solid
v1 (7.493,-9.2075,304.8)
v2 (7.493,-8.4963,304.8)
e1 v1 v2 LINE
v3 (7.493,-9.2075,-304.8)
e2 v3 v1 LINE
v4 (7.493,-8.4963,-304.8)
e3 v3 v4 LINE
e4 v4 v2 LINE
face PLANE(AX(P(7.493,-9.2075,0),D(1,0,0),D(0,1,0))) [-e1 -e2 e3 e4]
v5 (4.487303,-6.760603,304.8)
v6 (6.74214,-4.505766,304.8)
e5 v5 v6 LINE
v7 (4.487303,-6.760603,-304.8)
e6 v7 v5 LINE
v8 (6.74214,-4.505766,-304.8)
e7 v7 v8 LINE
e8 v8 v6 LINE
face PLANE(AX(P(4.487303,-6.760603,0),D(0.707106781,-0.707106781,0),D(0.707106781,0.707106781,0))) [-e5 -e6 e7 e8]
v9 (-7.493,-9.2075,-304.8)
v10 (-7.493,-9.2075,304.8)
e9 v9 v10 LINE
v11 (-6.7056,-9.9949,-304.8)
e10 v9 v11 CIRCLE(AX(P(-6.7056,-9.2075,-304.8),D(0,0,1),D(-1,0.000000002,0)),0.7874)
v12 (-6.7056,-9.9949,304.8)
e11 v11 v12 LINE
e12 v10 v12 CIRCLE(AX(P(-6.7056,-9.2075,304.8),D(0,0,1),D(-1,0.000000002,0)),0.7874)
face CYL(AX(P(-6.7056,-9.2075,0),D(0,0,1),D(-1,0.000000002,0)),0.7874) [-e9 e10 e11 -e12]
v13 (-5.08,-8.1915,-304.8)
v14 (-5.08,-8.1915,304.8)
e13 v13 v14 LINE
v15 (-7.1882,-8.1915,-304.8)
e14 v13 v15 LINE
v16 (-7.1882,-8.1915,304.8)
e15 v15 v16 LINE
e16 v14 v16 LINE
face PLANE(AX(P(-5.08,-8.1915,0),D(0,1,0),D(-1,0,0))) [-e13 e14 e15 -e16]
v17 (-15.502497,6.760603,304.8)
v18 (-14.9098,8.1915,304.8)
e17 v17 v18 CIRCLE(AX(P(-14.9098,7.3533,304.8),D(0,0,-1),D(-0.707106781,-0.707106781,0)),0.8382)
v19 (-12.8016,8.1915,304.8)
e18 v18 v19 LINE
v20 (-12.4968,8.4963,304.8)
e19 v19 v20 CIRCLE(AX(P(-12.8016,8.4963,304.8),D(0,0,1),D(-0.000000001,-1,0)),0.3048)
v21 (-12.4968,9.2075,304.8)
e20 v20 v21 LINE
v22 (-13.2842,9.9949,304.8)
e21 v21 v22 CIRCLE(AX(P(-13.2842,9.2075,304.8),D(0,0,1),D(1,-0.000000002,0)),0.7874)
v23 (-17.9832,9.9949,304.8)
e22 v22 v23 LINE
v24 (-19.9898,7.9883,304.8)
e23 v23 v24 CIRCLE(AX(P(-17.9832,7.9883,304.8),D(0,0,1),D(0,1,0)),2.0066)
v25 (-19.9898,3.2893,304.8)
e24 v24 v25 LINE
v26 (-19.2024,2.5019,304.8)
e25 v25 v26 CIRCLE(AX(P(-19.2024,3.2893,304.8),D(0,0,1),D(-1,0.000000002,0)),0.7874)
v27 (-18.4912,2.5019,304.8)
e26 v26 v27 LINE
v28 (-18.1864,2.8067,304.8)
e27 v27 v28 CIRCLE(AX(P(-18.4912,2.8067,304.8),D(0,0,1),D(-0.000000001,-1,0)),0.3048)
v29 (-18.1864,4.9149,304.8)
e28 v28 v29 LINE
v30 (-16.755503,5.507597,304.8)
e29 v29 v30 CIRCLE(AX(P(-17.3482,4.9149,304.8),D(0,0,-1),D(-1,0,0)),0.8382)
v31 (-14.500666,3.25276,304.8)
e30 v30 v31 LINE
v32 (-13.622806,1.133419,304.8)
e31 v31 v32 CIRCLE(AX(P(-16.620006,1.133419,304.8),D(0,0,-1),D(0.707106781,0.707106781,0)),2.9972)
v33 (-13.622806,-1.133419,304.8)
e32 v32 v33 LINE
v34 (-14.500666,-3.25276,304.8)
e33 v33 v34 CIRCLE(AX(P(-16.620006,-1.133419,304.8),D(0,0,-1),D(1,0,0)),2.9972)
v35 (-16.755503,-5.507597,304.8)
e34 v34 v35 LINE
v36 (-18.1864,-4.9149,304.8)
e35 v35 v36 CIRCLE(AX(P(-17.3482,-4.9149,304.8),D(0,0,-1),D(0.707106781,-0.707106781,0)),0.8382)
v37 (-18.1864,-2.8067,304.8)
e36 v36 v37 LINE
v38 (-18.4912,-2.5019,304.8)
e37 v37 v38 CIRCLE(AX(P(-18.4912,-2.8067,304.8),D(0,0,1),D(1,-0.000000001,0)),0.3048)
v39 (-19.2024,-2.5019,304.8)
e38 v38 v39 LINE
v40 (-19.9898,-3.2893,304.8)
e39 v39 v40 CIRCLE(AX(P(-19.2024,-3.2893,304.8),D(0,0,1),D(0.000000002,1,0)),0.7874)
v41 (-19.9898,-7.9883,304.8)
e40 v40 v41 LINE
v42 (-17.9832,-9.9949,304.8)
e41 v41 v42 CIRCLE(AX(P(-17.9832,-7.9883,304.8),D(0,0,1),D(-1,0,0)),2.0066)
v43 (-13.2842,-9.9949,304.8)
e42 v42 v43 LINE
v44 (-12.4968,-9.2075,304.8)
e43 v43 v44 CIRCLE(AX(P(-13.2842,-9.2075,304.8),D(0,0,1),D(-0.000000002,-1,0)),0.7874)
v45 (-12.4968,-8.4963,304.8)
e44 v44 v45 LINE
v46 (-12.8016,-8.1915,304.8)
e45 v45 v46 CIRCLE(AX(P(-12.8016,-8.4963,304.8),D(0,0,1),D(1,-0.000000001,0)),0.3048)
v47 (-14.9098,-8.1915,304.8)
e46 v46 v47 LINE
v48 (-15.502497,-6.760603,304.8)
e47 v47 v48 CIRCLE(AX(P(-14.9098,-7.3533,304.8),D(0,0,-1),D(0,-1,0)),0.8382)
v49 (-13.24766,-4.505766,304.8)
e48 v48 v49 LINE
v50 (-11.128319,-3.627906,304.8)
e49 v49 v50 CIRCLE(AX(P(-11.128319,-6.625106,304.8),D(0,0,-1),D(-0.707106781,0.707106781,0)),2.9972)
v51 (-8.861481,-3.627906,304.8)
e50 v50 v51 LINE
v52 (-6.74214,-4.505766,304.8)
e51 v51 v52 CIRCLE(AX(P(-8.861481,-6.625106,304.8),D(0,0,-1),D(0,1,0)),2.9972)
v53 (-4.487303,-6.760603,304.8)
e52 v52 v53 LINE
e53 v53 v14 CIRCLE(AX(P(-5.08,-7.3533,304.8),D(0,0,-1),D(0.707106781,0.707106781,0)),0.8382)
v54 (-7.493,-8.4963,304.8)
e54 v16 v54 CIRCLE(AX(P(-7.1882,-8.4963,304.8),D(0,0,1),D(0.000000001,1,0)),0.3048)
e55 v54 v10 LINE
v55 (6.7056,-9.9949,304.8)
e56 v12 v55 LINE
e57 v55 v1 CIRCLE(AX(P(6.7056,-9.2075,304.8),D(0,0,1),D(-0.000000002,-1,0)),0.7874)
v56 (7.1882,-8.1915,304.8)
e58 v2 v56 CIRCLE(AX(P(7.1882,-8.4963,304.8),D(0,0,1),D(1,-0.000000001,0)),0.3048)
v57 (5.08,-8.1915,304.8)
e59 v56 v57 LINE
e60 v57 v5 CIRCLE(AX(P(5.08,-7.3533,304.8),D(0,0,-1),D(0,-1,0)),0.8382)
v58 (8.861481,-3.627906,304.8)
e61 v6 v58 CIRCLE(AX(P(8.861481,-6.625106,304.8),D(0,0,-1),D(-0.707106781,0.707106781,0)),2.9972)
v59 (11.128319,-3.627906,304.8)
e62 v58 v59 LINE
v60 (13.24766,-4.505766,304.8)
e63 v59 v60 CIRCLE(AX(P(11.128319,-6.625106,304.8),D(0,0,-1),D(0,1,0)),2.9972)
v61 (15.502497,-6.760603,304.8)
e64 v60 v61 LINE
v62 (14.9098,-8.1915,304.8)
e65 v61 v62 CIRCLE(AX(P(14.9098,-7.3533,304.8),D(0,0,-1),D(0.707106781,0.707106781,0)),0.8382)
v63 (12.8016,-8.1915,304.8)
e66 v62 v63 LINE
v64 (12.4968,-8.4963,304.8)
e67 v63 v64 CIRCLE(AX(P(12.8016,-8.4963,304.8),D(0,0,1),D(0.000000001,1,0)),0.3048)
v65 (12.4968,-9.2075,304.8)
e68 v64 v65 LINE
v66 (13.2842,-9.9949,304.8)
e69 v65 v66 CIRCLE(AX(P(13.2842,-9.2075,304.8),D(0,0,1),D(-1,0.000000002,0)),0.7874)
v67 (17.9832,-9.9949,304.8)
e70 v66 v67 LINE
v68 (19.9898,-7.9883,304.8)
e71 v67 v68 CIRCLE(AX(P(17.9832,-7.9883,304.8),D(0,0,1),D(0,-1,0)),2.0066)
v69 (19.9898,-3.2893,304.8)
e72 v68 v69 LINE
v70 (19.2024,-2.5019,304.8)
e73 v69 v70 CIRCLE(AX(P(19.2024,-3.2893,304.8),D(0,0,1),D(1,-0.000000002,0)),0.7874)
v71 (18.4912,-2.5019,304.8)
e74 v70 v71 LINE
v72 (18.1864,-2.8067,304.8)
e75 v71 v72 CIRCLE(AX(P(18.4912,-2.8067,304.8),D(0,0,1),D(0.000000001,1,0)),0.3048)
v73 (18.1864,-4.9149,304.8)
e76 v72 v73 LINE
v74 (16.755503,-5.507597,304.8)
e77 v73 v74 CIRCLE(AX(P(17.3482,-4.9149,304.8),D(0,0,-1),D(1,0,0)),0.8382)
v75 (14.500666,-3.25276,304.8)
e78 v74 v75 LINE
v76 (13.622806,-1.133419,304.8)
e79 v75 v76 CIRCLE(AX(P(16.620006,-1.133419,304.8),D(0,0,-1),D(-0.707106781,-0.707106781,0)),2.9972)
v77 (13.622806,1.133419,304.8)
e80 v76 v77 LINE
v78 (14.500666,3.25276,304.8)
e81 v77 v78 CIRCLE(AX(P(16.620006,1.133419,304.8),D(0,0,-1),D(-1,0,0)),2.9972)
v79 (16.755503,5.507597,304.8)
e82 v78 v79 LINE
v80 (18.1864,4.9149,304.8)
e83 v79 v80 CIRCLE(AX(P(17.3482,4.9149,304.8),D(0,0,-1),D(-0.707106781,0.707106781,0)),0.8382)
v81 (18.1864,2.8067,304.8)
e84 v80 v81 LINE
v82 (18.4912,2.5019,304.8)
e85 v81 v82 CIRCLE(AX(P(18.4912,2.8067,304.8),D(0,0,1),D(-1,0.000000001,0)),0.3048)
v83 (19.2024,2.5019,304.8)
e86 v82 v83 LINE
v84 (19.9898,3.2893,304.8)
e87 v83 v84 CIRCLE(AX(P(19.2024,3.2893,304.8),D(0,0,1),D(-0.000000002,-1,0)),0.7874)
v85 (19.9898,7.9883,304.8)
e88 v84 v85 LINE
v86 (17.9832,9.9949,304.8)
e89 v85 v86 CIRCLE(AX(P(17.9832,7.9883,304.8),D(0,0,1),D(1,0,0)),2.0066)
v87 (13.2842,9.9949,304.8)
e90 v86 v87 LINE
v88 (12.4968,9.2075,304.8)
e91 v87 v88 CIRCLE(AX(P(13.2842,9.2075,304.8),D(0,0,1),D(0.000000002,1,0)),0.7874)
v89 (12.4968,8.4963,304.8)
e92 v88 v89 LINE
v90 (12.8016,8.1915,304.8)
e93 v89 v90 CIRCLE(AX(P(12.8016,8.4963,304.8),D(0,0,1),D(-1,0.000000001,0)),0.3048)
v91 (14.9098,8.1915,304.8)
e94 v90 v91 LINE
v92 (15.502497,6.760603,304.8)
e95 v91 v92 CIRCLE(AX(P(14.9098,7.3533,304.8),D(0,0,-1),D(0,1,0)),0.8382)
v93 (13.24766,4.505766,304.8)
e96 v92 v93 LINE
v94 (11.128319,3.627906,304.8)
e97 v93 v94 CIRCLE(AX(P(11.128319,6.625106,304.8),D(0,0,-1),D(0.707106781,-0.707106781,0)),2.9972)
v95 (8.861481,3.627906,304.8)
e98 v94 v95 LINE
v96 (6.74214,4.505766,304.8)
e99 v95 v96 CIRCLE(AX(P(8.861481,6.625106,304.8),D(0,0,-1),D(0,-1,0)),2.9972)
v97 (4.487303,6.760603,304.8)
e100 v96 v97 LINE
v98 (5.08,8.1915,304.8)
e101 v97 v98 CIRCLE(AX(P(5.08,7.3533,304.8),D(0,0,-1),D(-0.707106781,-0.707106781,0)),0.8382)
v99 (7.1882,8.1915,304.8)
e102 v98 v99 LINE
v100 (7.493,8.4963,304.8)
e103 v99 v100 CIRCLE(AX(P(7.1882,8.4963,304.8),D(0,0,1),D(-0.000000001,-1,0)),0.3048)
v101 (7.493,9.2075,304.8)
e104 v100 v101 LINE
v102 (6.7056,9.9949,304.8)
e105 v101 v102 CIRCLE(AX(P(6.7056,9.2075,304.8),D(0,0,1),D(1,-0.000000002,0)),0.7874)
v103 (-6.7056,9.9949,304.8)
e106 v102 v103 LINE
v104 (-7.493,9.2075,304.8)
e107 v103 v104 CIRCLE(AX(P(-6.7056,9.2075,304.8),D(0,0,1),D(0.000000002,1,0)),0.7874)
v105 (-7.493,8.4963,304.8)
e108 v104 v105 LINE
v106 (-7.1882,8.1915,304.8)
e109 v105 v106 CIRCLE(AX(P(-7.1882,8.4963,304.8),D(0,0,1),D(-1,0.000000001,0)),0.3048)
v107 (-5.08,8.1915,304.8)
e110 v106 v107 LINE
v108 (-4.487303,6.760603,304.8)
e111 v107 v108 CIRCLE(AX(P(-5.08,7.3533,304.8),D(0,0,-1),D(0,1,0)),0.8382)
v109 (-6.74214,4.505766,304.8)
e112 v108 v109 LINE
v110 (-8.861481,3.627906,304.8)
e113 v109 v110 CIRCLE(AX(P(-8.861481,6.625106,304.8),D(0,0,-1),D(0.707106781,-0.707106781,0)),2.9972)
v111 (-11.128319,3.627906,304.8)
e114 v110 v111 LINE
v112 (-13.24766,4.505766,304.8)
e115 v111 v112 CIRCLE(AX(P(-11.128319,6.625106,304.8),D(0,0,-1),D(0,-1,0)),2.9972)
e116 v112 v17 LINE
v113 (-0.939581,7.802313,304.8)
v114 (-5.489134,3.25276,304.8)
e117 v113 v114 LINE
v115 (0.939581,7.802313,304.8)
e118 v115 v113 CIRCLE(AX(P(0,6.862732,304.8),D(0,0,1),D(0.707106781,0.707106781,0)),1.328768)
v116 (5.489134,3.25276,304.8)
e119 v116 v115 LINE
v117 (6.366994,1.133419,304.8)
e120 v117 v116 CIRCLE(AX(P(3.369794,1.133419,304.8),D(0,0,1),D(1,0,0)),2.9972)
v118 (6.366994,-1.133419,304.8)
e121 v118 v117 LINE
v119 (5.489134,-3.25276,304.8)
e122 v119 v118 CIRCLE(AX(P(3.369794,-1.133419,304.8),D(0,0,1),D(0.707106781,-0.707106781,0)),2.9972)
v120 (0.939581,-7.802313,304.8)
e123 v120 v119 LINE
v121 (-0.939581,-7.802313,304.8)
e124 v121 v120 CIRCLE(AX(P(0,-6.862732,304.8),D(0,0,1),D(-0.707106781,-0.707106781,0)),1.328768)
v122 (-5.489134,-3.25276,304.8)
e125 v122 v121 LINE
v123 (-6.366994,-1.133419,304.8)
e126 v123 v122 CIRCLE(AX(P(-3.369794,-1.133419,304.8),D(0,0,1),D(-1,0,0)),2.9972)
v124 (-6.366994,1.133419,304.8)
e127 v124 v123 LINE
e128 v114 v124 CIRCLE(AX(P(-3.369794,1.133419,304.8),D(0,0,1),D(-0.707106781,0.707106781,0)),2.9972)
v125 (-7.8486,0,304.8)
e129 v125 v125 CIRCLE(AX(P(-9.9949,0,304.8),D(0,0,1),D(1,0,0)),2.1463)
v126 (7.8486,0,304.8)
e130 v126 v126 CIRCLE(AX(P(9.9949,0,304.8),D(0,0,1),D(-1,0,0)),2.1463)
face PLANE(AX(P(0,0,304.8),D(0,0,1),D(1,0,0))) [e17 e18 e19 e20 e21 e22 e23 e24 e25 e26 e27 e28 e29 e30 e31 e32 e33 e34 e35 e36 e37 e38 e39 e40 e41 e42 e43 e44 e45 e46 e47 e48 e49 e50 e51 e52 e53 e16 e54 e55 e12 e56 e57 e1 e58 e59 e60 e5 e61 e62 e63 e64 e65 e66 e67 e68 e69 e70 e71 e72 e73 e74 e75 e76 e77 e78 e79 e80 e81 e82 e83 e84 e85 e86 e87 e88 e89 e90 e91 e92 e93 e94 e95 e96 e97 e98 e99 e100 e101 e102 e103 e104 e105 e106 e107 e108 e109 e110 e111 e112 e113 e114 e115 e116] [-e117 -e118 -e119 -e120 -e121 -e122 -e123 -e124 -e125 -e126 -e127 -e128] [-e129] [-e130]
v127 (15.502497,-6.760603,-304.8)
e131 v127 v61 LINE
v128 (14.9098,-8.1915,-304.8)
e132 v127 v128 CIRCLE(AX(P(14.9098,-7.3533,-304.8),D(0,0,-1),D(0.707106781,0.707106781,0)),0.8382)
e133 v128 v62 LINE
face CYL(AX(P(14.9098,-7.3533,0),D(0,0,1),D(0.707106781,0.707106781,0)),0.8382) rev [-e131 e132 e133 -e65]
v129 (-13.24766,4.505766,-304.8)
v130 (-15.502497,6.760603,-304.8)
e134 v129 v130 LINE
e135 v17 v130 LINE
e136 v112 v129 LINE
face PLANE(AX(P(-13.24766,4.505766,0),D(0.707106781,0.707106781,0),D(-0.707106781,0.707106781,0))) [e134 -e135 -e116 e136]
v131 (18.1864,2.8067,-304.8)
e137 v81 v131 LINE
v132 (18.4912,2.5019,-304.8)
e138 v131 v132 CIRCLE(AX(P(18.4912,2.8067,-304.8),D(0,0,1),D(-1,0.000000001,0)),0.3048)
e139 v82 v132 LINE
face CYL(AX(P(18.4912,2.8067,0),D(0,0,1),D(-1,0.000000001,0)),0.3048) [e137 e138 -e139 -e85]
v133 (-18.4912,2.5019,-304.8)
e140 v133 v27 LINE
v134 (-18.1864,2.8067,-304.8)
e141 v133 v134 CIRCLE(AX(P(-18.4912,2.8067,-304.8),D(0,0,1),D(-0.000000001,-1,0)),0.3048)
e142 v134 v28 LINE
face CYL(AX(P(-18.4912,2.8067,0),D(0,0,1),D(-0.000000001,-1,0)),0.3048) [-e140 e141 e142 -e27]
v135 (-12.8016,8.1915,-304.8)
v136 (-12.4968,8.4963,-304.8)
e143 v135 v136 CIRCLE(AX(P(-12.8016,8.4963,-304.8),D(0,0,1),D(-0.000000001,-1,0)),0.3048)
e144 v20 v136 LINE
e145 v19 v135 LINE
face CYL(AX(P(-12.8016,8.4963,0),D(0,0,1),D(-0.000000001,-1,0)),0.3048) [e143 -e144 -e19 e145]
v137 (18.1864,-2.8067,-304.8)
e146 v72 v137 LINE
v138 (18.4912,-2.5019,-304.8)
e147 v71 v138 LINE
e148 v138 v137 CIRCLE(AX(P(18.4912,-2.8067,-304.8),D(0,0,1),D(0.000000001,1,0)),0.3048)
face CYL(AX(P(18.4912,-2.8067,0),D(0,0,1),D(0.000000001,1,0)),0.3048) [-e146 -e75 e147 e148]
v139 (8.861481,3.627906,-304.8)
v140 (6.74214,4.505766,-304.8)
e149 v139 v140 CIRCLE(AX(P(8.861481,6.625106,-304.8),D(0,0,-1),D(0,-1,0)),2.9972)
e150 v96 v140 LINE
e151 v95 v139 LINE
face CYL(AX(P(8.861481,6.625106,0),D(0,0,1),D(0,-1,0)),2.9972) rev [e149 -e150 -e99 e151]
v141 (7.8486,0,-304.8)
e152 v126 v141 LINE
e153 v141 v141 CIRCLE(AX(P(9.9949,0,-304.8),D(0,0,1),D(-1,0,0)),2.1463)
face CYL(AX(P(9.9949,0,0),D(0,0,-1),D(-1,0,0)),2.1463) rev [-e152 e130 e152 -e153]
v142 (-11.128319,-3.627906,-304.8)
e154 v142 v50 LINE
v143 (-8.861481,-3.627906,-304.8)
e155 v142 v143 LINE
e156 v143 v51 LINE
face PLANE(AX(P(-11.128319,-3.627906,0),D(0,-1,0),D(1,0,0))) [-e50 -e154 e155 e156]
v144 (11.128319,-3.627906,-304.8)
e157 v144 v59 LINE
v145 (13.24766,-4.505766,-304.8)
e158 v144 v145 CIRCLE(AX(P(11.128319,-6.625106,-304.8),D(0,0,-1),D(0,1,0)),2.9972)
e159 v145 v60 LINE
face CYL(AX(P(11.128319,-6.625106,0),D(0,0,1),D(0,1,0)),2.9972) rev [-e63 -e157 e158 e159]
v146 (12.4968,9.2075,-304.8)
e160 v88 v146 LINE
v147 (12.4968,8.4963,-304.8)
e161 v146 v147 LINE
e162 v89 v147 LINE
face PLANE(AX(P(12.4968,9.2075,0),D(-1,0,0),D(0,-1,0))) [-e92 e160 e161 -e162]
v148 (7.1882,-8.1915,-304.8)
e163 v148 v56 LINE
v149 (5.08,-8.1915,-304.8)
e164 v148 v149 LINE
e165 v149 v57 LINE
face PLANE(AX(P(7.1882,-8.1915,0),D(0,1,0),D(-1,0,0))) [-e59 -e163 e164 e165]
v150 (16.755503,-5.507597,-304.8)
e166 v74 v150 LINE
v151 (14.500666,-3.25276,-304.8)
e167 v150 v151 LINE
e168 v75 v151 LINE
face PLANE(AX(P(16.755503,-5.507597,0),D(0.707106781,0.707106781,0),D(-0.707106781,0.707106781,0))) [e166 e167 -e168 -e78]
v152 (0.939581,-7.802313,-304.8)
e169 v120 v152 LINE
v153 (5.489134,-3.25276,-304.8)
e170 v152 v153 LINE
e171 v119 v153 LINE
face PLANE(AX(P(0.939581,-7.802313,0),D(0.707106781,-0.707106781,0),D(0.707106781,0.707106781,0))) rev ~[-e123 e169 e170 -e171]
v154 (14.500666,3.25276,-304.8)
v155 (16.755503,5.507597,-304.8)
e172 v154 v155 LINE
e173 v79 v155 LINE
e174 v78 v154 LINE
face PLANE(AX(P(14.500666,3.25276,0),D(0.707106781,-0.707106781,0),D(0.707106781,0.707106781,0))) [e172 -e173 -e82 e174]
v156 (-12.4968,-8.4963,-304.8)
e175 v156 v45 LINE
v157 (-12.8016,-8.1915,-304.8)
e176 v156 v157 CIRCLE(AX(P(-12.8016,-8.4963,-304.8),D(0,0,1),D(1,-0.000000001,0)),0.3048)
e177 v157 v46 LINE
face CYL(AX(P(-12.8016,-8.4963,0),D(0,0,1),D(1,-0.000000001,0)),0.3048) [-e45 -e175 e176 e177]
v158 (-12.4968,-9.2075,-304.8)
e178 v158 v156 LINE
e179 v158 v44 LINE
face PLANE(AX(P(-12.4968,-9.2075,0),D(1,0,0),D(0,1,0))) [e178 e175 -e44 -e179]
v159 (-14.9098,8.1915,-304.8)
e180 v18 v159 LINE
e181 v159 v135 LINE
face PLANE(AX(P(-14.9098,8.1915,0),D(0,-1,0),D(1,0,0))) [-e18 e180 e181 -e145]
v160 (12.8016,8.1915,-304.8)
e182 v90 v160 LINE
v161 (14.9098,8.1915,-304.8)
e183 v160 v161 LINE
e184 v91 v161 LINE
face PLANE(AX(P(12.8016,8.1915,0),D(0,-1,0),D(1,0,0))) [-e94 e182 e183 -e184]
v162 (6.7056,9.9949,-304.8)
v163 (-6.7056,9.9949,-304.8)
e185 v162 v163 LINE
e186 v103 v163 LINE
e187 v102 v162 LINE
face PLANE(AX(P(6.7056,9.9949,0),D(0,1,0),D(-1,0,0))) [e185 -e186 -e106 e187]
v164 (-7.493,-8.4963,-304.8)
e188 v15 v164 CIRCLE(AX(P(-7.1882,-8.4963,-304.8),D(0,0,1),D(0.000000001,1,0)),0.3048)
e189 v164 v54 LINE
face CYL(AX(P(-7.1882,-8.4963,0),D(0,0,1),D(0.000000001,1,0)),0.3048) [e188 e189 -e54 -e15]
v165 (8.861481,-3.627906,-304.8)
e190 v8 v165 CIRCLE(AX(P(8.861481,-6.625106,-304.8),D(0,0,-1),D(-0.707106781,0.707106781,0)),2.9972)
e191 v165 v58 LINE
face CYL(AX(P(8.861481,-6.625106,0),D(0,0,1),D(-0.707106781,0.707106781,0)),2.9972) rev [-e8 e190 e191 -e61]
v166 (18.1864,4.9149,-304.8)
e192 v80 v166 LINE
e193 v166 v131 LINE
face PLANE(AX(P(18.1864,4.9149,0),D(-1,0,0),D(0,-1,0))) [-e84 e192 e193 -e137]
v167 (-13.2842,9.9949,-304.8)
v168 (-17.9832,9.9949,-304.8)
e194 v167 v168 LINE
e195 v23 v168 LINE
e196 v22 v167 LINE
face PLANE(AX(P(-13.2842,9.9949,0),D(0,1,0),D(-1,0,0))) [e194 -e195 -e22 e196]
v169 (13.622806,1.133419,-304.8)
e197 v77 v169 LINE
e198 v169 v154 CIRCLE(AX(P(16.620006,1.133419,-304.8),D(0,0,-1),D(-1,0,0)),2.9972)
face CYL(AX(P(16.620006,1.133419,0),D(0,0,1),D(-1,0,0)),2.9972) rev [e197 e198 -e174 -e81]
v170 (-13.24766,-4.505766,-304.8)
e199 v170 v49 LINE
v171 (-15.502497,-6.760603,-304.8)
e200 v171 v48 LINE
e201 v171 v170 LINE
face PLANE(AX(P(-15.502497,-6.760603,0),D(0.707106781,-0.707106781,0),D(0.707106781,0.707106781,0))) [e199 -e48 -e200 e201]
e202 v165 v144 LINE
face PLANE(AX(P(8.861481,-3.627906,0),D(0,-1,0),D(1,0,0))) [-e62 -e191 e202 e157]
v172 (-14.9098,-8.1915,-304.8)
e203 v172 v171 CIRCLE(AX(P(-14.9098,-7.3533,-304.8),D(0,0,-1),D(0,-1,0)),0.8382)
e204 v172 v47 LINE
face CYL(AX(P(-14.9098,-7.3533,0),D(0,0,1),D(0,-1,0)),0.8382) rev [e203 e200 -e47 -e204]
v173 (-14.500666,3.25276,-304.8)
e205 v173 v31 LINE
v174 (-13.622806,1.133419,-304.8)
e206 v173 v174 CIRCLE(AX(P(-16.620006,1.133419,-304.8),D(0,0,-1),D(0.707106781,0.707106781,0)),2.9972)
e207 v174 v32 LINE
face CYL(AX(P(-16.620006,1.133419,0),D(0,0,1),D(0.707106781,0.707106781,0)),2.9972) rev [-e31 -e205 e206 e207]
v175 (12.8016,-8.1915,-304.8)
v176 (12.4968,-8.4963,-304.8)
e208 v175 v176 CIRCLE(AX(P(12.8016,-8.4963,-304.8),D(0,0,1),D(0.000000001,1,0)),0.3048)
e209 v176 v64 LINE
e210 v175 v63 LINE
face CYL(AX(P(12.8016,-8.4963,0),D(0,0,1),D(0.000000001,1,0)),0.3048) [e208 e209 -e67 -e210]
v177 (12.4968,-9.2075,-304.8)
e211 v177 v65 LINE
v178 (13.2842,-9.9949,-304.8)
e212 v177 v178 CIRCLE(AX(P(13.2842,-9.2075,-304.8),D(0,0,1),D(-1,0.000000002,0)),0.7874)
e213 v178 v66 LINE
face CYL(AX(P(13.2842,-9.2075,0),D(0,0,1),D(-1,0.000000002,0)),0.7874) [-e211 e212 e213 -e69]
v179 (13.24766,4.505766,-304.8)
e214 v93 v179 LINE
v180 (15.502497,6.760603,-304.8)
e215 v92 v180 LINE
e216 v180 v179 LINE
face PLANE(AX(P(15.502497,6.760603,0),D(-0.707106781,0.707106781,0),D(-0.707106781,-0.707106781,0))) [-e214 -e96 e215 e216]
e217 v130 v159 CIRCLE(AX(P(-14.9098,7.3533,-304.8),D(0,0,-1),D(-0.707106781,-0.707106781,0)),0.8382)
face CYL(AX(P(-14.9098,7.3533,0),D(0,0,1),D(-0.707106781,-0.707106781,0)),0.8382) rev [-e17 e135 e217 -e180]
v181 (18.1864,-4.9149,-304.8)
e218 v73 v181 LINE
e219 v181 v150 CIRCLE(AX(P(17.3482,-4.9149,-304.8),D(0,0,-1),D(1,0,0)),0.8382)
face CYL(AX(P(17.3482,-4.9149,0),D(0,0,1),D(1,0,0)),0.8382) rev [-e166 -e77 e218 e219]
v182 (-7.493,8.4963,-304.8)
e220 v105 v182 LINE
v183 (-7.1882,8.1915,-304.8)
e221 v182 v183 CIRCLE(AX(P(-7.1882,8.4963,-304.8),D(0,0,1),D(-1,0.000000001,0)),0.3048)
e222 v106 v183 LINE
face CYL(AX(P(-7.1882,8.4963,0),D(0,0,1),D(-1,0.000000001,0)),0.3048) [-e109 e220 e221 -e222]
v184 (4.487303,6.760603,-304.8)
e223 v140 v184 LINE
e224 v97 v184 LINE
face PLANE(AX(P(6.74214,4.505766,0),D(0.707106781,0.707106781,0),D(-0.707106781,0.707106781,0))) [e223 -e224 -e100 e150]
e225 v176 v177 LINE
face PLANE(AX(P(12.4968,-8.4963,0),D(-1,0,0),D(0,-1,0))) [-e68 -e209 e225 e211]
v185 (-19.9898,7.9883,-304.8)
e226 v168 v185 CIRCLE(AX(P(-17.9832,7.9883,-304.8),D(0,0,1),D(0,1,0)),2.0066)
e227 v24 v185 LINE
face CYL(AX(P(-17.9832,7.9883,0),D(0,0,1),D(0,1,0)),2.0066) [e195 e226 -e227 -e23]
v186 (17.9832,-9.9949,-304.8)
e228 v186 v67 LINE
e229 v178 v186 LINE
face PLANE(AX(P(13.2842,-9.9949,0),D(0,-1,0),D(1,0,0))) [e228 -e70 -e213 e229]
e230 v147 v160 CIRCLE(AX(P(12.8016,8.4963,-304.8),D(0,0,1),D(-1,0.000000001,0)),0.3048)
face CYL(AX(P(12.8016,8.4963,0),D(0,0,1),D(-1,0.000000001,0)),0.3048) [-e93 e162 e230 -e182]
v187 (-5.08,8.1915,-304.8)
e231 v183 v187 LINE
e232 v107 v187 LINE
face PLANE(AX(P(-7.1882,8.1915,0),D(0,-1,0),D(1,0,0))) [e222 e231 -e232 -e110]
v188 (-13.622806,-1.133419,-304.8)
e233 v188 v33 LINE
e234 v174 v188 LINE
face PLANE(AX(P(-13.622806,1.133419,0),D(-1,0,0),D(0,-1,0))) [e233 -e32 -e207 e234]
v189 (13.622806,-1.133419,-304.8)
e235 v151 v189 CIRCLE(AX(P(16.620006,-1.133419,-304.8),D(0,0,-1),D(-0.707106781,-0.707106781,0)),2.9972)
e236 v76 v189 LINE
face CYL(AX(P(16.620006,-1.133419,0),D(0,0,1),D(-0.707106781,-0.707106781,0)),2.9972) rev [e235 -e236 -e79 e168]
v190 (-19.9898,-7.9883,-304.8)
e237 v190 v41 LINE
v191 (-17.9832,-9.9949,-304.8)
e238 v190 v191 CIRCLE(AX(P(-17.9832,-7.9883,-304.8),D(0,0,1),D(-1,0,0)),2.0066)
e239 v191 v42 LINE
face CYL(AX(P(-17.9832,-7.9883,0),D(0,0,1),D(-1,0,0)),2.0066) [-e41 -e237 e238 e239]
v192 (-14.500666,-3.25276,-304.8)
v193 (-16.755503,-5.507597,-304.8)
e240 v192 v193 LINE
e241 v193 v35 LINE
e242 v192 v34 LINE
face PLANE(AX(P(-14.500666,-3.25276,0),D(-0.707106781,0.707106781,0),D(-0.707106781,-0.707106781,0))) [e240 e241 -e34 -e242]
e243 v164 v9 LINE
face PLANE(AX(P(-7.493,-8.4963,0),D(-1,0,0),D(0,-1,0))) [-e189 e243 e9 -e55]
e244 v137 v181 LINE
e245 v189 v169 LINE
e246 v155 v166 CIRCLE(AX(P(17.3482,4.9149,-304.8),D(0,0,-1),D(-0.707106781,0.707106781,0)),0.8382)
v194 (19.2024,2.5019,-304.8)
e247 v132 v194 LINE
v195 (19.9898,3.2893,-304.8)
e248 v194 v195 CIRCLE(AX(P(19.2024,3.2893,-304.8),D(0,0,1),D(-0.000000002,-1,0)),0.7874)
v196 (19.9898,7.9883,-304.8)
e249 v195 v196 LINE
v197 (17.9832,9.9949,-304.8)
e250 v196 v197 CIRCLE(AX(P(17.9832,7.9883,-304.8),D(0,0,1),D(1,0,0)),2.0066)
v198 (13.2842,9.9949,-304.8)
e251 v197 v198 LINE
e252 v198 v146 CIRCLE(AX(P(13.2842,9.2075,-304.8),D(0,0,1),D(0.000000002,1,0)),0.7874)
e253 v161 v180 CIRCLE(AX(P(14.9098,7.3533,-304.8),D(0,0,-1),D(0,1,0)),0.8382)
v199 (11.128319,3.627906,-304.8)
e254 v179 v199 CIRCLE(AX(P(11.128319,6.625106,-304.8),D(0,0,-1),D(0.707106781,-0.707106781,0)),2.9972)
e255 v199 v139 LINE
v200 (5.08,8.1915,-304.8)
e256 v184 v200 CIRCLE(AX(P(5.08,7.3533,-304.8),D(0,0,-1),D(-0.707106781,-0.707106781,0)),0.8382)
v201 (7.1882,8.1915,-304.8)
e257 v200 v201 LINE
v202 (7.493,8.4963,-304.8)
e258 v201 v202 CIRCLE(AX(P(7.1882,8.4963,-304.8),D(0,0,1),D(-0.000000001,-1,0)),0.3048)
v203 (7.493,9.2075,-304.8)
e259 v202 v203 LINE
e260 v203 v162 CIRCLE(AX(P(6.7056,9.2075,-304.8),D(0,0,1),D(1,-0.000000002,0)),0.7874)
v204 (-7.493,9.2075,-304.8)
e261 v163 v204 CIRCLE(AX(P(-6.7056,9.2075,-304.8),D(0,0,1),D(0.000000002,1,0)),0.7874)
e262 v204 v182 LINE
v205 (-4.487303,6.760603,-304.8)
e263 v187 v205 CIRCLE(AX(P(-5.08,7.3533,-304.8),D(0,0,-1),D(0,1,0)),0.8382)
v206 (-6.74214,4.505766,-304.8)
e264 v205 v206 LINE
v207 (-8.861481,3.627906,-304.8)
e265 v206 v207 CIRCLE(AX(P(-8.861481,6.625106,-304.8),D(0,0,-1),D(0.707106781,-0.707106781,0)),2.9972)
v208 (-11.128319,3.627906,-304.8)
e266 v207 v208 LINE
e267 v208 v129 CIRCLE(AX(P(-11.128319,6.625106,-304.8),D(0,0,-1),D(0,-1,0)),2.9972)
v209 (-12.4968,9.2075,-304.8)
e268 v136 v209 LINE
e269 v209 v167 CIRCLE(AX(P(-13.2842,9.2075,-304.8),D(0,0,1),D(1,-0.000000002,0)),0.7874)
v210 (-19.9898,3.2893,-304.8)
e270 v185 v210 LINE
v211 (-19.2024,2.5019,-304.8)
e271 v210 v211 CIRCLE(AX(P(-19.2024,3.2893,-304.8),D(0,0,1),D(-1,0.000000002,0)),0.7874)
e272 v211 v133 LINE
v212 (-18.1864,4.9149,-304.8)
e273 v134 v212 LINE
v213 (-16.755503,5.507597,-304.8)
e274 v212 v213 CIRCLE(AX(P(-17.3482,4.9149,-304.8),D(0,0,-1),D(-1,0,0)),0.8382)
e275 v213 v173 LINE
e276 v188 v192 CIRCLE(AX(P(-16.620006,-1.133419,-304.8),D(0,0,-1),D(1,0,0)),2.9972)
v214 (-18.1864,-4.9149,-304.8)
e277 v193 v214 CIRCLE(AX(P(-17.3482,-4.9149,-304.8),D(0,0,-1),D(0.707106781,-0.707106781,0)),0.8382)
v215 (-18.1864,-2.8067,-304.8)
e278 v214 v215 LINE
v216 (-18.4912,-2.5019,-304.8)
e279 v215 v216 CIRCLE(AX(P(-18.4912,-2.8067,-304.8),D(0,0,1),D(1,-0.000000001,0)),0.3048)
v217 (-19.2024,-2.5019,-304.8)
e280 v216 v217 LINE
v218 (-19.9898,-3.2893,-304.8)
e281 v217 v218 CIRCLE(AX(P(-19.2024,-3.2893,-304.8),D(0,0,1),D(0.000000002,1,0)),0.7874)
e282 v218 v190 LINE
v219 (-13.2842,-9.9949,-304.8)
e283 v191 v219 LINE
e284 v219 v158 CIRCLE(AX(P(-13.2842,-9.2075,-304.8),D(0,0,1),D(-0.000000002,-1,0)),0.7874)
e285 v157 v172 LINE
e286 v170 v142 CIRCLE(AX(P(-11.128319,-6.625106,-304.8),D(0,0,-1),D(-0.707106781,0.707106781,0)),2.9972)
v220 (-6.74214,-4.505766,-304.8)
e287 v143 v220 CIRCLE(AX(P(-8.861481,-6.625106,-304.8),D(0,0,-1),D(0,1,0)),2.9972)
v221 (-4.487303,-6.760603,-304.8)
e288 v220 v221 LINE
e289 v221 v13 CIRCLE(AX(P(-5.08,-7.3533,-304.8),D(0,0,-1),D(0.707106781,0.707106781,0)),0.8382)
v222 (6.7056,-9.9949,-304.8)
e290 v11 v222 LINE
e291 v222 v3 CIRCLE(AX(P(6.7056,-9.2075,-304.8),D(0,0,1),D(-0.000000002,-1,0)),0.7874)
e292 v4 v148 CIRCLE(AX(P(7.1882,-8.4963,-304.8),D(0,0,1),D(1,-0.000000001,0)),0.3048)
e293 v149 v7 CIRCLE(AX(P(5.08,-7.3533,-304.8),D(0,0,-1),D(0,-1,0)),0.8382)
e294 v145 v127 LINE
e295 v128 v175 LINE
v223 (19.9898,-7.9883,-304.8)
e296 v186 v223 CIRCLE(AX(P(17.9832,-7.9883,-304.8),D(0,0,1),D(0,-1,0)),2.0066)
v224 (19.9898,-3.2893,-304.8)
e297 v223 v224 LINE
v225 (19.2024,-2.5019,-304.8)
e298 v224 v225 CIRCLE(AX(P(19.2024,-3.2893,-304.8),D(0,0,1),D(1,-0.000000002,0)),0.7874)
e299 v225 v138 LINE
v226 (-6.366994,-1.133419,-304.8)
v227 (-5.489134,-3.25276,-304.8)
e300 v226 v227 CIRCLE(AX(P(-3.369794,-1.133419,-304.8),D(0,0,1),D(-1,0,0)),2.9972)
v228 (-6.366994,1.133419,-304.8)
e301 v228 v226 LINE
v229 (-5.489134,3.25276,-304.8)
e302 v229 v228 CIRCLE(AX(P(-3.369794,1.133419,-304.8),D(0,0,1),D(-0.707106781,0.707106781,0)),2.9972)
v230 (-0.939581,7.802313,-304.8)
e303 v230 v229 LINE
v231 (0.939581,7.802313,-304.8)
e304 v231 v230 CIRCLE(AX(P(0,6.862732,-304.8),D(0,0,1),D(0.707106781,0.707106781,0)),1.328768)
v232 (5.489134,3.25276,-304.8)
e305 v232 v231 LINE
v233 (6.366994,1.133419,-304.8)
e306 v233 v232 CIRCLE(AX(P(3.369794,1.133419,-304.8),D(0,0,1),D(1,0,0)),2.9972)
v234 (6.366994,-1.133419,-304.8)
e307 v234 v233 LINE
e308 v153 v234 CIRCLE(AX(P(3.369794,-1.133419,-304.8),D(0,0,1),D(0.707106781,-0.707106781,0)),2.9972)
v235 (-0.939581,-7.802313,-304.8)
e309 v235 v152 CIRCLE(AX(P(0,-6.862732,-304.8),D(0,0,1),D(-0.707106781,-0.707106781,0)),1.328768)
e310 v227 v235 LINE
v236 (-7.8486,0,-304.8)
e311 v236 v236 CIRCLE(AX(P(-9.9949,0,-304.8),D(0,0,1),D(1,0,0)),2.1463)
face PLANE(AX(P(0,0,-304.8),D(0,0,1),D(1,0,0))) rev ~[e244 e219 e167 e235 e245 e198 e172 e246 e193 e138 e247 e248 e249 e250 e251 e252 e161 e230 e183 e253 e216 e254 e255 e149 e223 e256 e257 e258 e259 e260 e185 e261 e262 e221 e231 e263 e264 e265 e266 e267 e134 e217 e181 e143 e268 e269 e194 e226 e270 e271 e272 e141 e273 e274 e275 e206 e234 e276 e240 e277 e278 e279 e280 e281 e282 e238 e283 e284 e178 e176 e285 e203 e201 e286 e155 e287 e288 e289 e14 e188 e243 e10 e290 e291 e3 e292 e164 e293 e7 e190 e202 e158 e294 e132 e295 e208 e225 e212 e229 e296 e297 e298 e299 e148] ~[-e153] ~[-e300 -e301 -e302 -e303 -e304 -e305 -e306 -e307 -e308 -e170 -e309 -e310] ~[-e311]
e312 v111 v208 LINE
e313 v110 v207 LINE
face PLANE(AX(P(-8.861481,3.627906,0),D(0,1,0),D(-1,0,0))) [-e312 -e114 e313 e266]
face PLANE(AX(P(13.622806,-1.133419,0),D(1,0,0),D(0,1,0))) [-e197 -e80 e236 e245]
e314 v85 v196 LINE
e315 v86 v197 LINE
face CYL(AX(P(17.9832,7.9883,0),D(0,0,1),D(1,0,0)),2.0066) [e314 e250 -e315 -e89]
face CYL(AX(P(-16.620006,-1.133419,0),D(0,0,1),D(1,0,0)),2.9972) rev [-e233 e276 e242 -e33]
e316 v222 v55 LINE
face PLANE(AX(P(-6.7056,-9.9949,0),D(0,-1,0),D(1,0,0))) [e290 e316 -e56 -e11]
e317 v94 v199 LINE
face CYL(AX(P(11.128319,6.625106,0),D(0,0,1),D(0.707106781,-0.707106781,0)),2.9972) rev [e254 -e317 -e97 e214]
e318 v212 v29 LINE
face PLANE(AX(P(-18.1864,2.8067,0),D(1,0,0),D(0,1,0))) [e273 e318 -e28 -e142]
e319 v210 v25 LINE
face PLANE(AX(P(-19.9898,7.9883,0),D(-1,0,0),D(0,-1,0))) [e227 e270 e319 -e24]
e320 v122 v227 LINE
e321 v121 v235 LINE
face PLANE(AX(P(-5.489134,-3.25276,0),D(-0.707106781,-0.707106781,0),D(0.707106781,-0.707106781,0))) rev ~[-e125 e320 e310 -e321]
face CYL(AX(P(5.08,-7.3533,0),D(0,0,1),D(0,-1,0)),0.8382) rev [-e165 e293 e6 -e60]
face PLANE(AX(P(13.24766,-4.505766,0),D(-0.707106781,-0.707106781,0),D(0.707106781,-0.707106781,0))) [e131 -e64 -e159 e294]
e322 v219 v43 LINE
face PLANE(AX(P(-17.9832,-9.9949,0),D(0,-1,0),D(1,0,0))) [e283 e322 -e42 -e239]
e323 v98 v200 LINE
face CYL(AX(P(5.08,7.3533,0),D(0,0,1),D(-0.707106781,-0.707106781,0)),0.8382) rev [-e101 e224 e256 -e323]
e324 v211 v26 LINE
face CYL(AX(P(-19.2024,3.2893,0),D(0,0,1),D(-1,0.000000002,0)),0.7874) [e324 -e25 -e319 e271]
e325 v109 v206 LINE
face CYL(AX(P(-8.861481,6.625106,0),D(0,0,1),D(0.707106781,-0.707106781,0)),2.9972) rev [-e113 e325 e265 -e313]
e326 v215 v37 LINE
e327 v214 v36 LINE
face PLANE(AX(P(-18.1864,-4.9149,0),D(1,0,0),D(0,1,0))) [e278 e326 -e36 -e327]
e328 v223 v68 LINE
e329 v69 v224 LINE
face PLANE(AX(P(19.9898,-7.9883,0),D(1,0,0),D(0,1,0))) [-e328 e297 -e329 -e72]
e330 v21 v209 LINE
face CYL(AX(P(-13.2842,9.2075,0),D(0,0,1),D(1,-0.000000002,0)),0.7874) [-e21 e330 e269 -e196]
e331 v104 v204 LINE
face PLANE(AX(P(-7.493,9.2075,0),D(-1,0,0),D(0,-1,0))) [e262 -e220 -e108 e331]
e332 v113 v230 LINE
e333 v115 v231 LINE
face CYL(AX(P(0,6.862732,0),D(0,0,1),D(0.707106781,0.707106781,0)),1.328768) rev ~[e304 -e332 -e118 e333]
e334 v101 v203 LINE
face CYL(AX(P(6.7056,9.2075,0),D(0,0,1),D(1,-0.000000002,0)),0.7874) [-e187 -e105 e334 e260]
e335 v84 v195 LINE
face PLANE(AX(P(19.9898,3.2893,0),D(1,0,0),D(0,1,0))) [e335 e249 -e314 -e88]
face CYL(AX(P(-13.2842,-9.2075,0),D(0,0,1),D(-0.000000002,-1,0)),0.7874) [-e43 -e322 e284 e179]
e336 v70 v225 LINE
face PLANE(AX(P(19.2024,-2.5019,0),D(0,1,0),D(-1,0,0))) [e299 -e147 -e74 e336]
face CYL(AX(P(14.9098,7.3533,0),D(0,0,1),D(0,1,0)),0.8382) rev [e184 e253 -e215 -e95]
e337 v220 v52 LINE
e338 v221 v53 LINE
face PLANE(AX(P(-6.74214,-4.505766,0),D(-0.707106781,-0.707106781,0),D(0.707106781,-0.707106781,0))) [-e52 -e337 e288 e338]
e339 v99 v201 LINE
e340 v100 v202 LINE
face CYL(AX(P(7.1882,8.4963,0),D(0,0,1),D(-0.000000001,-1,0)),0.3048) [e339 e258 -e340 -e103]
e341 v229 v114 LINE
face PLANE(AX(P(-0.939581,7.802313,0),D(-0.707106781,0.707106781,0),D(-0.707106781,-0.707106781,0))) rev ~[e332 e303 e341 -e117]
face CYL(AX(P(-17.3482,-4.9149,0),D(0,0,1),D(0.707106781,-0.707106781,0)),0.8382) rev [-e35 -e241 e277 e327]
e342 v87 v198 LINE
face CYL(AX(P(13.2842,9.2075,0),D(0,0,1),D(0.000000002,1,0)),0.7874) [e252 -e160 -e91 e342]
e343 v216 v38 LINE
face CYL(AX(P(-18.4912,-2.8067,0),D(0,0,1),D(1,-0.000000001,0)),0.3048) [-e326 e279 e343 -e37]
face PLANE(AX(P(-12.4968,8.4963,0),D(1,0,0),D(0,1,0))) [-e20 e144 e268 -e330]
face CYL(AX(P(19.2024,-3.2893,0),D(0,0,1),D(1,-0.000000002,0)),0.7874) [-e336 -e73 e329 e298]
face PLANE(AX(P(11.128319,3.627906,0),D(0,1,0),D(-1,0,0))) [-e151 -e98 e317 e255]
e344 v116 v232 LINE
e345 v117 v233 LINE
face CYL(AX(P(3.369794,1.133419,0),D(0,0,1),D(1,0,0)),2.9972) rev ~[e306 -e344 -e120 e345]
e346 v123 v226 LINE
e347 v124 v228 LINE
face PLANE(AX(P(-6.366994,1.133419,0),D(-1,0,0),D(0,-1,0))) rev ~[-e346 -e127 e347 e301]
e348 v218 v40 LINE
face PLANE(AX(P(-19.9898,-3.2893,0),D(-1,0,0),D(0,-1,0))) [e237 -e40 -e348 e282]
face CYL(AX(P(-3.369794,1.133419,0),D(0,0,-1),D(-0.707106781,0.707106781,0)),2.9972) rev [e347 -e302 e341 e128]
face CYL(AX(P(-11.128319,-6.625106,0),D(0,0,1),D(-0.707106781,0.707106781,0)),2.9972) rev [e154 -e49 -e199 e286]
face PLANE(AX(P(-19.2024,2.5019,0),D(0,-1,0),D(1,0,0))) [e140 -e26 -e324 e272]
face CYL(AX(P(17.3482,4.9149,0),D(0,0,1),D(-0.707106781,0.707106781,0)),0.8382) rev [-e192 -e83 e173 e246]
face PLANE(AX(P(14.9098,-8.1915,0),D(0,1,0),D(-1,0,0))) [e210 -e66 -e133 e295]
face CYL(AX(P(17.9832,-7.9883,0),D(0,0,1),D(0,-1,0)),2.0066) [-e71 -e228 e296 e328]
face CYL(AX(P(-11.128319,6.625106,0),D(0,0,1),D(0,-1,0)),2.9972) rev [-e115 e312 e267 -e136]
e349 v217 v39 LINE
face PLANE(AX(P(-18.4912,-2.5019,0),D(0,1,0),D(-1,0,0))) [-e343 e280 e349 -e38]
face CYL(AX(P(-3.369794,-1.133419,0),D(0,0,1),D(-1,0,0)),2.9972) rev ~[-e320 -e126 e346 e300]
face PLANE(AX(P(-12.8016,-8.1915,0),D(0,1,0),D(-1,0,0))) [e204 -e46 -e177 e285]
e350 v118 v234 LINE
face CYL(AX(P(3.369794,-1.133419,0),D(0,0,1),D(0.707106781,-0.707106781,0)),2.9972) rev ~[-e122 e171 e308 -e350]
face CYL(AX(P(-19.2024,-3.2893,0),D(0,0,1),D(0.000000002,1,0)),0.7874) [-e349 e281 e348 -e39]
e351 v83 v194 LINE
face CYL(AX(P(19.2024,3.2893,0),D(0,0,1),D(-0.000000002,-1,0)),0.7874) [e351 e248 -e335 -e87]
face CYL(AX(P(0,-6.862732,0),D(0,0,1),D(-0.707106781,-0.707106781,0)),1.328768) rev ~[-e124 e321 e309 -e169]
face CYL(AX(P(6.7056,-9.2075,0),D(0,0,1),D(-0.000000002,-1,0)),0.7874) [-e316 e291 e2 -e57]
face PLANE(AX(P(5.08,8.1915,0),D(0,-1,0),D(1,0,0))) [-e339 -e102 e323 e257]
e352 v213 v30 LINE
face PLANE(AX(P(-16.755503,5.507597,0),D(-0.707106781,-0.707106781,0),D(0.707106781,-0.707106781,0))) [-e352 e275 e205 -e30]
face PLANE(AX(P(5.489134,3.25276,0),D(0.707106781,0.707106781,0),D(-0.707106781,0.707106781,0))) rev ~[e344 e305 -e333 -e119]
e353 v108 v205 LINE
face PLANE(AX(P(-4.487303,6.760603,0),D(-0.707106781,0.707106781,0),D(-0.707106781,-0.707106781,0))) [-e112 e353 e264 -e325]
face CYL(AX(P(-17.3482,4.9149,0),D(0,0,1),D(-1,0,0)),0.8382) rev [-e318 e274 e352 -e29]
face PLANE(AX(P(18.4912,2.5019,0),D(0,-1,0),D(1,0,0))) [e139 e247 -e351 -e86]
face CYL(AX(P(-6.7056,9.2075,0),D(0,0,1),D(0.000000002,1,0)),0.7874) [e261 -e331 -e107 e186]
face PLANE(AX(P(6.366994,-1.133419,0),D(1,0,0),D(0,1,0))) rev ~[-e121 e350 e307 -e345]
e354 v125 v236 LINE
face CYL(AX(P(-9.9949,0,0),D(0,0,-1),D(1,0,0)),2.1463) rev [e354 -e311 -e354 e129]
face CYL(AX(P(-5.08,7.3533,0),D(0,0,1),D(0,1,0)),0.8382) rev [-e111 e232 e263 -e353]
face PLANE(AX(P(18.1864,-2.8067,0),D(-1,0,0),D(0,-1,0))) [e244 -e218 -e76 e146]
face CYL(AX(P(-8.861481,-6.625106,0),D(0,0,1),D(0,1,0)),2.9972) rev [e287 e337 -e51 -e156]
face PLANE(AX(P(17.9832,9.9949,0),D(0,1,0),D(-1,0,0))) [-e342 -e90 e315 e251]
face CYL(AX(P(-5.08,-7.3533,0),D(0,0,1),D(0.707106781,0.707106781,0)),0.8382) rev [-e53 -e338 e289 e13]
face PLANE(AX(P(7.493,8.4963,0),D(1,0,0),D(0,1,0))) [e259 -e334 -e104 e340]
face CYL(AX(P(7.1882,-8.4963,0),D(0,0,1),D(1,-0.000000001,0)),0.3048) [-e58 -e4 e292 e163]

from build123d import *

# Parameters (mm, degrees)
SKETCH1_R           = 2.1463
BOSS_EXTRUDE1_DEPTH = 304.8


with BuildPart() as part:
    # Sketch1 → Boss-Extrude1 (new, symmetric)
    with BuildSketch(Plane.XY):
        with BuildLine():
            Line((-19.9898, 7.9883), (-19.9898, 3.2893))
            ThreePointArc((-19.9898, 3.2893), (-19.75917588, 2.73252412), (-19.2024, 2.5019))
            Line((-19.2024, 2.5019), (-18.4912, 2.5019))
            ThreePointArc((-18.4912, 2.5019), (-18.275673853, 2.591173853), (-18.1864, 2.8067))
            Line((-18.1864, 2.8067), (-18.1864, 4.9149))
            ThreePointArc((-18.1864, 4.9149), (-17.668965253, 5.689295824), (-16.755503096, 5.507596904))
            Line((-16.755503096, 5.507596904), (-14.500665747, 3.252759555))
            ThreePointArc((-14.500665747, 3.252759555), (-13.850954457, 2.280397894), (-13.622806192, 1.133419111))
            Line((-13.622806192, 1.133419111), (-13.622806192, -1.133419111))
            ThreePointArc((-13.622806192, -1.133419111), (-13.850954457, -2.280397894), (-14.500665747, -3.252759555))
            Line((-14.500665747, -3.252759555), (-16.755503096, -5.507596904))
            ThreePointArc((-16.755503096, -5.507596904), (-17.668965253, -5.689295824), (-18.1864, -4.9149))
            Line((-18.1864, -4.9149), (-18.1864, -2.8067))
            ThreePointArc((-18.1864, -2.8067), (-18.275673853, -2.591173853), (-18.4912, -2.5019))
            Line((-18.4912, -2.5019), (-19.2024, -2.5019))
            ThreePointArc((-19.2024, -2.5019), (-19.75917588, -2.73252412), (-19.9898, -3.2893))
            Line((-19.9898, -3.2893), (-19.9898, -7.9883))
            ThreePointArc((-19.9898, -7.9883), (-19.402080467, -9.407180467), (-17.9832, -9.9949))
            Line((-17.9832, -9.9949), (-13.2842, -9.9949))
            ThreePointArc((-13.2842, -9.9949), (-12.72742412, -9.76427588), (-12.4968, -9.2075))
            Line((-12.4968, -9.2075), (-12.4968, -8.4963))
            ThreePointArc((-12.4968, -8.4963), (-12.586073853, -8.280773853), (-12.8016, -8.1915))
            Line((-12.8016, -8.1915), (-14.9098, -8.1915))
            ThreePointArc((-14.9098, -8.1915), (-15.684195824, -7.674065253), (-15.502496904, -6.760603096))
            Line((-15.502496904, -6.760603096), (-13.247659555, -4.505765747))
            ThreePointArc((-13.247659555, -4.505765747), (-12.275297894, -3.856054457), (-11.128319111, -3.627906192))
            Line((-11.128319111, -3.627906192), (-8.861480889, -3.627906192))
            ThreePointArc((-8.861480889, -3.627906192), (-7.714502106, -3.856054457), (-6.742140445, -4.505765747))
            Line((-6.742140445, -4.505765747), (-4.487303096, -6.760603096))
            ThreePointArc((-4.487303096, -6.760603096), (-4.305604176, -7.674065253), (-5.08, -8.1915))
            Line((-5.08, -8.1915), (-7.1882, -8.1915))
            ThreePointArc((-7.1882, -8.1915), (-7.403726147, -8.280773853), (-7.493, -8.4963))
            Line((-7.493, -8.4963), (-7.493, -9.2075))
            ThreePointArc((-7.493, -9.2075), (-7.26237588, -9.76427588), (-6.7056, -9.9949))
            Line((-6.7056, -9.9949), (0, -9.9949))
            Line((0, -9.9949), (6.7056, -9.9949))
            ThreePointArc((6.7056, -9.9949), (7.26237588, -9.76427588), (7.493, -9.2075))
            Line((7.493, -9.2075), (7.493, -8.4963))
            ThreePointArc((7.493, -8.4963), (7.403726147, -8.280773853), (7.1882, -8.1915))
            Line((7.1882, -8.1915), (5.08, -8.1915))
            ThreePointArc((5.08, -8.1915), (4.305604176, -7.674065253), (4.487303096, -6.760603096))
            Line((4.487303096, -6.760603096), (6.742140445, -4.505765747))
            ThreePointArc((6.742140445, -4.505765747), (7.714502106, -3.856054457), (8.861480889, -3.627906192))
            Line((8.861480889, -3.627906192), (11.128319111, -3.627906192))
            ThreePointArc((11.128319111, -3.627906192), (12.275297894, -3.856054457), (13.247659555, -4.505765747))
            Line((13.247659555, -4.505765747), (15.502496904, -6.760603096))
            ThreePointArc((15.502496904, -6.760603096), (15.684195824, -7.674065253), (14.9098, -8.1915))
            Line((14.9098, -8.1915), (12.8016, -8.1915))
            ThreePointArc((12.8016, -8.1915), (12.586073853, -8.280773853), (12.4968, -8.4963))
            Line((12.4968, -8.4963), (12.4968, -9.2075))
            ThreePointArc((12.4968, -9.2075), (12.72742412, -9.76427588), (13.2842, -9.9949))
            Line((13.2842, -9.9949), (17.9832, -9.9949))
            ThreePointArc((17.9832, -9.9949), (19.402080467, -9.407180467), (19.9898, -7.9883))
            Line((19.9898, -7.9883), (19.9898, -3.2893))
            ThreePointArc((19.9898, -3.2893), (19.75917588, -2.73252412), (19.2024, -2.5019))
            Line((19.2024, -2.5019), (18.4912, -2.5019))
            ThreePointArc((18.4912, -2.5019), (18.275673853, -2.591173853), (18.1864, -2.8067))
            Line((18.1864, -2.8067), (18.1864, -4.9149))
            ThreePointArc((18.1864, -4.9149), (17.668965253, -5.689295824), (16.755503096, -5.507596904))
            Line((16.755503096, -5.507596904), (14.500665747, -3.252759555))
            ThreePointArc((14.500665747, -3.252759555), (13.850954457, -2.280397894), (13.622806192, -1.133419111))
            Line((13.622806192, -1.133419111), (13.622806192, 1.133419111))
            ThreePointArc((13.622806192, 1.133419111), (13.850954457, 2.280397894), (14.500665747, 3.252759555))
            Line((14.500665747, 3.252759555), (16.755503096, 5.507596904))
            ThreePointArc((16.755503096, 5.507596904), (17.668965253, 5.689295824), (18.1864, 4.9149))
            Line((18.1864, 4.9149), (18.1864, 2.8067))
            ThreePointArc((18.1864, 2.8067), (18.275673853, 2.591173853), (18.4912, 2.5019))
            Line((18.4912, 2.5019), (19.2024, 2.5019))
            ThreePointArc((19.2024, 2.5019), (19.75917588, 2.73252412), (19.9898, 3.2893))
            Line((19.9898, 3.2893), (19.9898, 7.9883))
            ThreePointArc((19.9898, 7.9883), (19.402080467, 9.407180467), (17.9832, 9.9949))
            Line((17.9832, 9.9949), (13.2842, 9.9949))
            ThreePointArc((13.2842, 9.9949), (12.72742412, 9.76427588), (12.4968, 9.2075))
            Line((12.4968, 9.2075), (12.4968, 8.4963))
            ThreePointArc((12.4968, 8.4963), (12.586073853, 8.280773853), (12.8016, 8.1915))
            Line((12.8016, 8.1915), (14.9098, 8.1915))
            ThreePointArc((14.9098, 8.1915), (15.684195824, 7.674065253), (15.502496904, 6.760603096))
            Line((15.502496904, 6.760603096), (13.247659555, 4.505765747))
            ThreePointArc((13.247659555, 4.505765747), (12.275297894, 3.856054457), (11.128319111, 3.627906192))
            Line((11.128319111, 3.627906192), (8.861480889, 3.627906192))
            ThreePointArc((8.861480889, 3.627906192), (7.714502106, 3.856054457), (6.742140445, 4.505765747))
            Line((6.742140445, 4.505765747), (4.487303096, 6.760603096))
            ThreePointArc((4.487303096, 6.760603096), (4.305604176, 7.674065253), (5.08, 8.1915))
            Line((5.08, 8.1915), (7.1882, 8.1915))
            ThreePointArc((7.1882, 8.1915), (7.403726147, 8.280773853), (7.493, 8.4963))
            Line((7.493, 8.4963), (7.493, 9.2075))
            ThreePointArc((7.493, 9.2075), (7.26237588, 9.76427588), (6.7056, 9.9949))
            Line((6.7056, 9.9949), (0, 9.9949))
            Line((0, 9.9949), (-6.7056, 9.9949))
            ThreePointArc((-6.7056, 9.9949), (-7.26237588, 9.76427588), (-7.493, 9.2075))
            Line((-7.493, 9.2075), (-7.493, 8.4963))
            ThreePointArc((-7.493, 8.4963), (-7.403726147, 8.280773853), (-7.1882, 8.1915))
            Line((-7.1882, 8.1915), (-5.08, 8.1915))
            ThreePointArc((-5.08, 8.1915), (-4.305604176, 7.674065253), (-4.487303096, 6.760603096))
            Line((-4.487303096, 6.760603096), (-6.742140445, 4.505765747))
            ThreePointArc((-6.742140445, 4.505765747), (-7.714502106, 3.856054457), (-8.861480889, 3.627906192))
            Line((-8.861480889, 3.627906192), (-11.128319111, 3.627906192))
            ThreePointArc((-11.128319111, 3.627906192), (-12.275297894, 3.856054457), (-13.247659555, 4.505765747))
            Line((-13.247659555, 4.505765747), (-15.502496904, 6.760603096))
            ThreePointArc((-15.502496904, 6.760603096), (-15.684195824, 7.674065253), (-14.9098, 8.1915))
            Line((-14.9098, 8.1915), (-12.8016, 8.1915))
            ThreePointArc((-12.8016, 8.1915), (-12.586073853, 8.280773853), (-12.4968, 8.4963))
            Line((-12.4968, 8.4963), (-12.4968, 9.2075))
            ThreePointArc((-12.4968, 9.2075), (-12.72742412, 9.76427588), (-13.2842, 9.9949))
            Line((-13.2842, 9.9949), (-17.9832, 9.9949))
            ThreePointArc((-17.9832, 9.9949), (-19.402080467, 9.407180467), (-19.9898, 7.9883))
        make_face()
        with Locations((-9.9949, 0)):
            Circle(SKETCH1_R, mode=Mode.SUBTRACT)
        with Locations(Location((9.9949, 0, 0), (0, 0, 180))):
            Circle(SKETCH1_R, mode=Mode.SUBTRACT)
        with BuildLine():
            Line((-6.366993808, 1.133419111), (-6.366993808, -1.133419111))
            ThreePointArc((-6.366993808, -1.133419111), (-6.138845543, -2.280397894), (-5.489134253, -3.252759555))
            Line((-5.489134253, -3.252759555), (-0.939581002, -7.802312806))
            ThreePointArc((-0.939581002, -7.802312806), (0, -8.1915), (0.939581002, -7.802312806))
            Line((0.939581002, -7.802312806), (5.489134253, -3.252759555))
            ThreePointArc((5.489134253, -3.252759555), (6.138845543, -2.280397894), (6.366993808, -1.133419111))
            Line((6.366993808, -1.133419111), (6.366993808, 1.133419111))
            ThreePointArc((6.366993808, 1.133419111), (6.138845543, 2.280397894), (5.489134253, 3.252759555))
            Line((5.489134253, 3.252759555), (0.939581002, 7.802312806))
            ThreePointArc((0.939581002, 7.802312806), (0, 8.1915), (-0.939581002, 7.802312806))
            Line((-0.939581002, 7.802312806), (-5.489134253, 3.252759555))
            ThreePointArc((-5.489134253, 3.252759555), (-6.138845543, 2.280397894), (-6.366993808, 1.133419111))
        make_face(mode=Mode.SUBTRACT)
    extrude(amount=BOSS_EXTRUDE1_DEPTH, both=True)


solid = part.part
